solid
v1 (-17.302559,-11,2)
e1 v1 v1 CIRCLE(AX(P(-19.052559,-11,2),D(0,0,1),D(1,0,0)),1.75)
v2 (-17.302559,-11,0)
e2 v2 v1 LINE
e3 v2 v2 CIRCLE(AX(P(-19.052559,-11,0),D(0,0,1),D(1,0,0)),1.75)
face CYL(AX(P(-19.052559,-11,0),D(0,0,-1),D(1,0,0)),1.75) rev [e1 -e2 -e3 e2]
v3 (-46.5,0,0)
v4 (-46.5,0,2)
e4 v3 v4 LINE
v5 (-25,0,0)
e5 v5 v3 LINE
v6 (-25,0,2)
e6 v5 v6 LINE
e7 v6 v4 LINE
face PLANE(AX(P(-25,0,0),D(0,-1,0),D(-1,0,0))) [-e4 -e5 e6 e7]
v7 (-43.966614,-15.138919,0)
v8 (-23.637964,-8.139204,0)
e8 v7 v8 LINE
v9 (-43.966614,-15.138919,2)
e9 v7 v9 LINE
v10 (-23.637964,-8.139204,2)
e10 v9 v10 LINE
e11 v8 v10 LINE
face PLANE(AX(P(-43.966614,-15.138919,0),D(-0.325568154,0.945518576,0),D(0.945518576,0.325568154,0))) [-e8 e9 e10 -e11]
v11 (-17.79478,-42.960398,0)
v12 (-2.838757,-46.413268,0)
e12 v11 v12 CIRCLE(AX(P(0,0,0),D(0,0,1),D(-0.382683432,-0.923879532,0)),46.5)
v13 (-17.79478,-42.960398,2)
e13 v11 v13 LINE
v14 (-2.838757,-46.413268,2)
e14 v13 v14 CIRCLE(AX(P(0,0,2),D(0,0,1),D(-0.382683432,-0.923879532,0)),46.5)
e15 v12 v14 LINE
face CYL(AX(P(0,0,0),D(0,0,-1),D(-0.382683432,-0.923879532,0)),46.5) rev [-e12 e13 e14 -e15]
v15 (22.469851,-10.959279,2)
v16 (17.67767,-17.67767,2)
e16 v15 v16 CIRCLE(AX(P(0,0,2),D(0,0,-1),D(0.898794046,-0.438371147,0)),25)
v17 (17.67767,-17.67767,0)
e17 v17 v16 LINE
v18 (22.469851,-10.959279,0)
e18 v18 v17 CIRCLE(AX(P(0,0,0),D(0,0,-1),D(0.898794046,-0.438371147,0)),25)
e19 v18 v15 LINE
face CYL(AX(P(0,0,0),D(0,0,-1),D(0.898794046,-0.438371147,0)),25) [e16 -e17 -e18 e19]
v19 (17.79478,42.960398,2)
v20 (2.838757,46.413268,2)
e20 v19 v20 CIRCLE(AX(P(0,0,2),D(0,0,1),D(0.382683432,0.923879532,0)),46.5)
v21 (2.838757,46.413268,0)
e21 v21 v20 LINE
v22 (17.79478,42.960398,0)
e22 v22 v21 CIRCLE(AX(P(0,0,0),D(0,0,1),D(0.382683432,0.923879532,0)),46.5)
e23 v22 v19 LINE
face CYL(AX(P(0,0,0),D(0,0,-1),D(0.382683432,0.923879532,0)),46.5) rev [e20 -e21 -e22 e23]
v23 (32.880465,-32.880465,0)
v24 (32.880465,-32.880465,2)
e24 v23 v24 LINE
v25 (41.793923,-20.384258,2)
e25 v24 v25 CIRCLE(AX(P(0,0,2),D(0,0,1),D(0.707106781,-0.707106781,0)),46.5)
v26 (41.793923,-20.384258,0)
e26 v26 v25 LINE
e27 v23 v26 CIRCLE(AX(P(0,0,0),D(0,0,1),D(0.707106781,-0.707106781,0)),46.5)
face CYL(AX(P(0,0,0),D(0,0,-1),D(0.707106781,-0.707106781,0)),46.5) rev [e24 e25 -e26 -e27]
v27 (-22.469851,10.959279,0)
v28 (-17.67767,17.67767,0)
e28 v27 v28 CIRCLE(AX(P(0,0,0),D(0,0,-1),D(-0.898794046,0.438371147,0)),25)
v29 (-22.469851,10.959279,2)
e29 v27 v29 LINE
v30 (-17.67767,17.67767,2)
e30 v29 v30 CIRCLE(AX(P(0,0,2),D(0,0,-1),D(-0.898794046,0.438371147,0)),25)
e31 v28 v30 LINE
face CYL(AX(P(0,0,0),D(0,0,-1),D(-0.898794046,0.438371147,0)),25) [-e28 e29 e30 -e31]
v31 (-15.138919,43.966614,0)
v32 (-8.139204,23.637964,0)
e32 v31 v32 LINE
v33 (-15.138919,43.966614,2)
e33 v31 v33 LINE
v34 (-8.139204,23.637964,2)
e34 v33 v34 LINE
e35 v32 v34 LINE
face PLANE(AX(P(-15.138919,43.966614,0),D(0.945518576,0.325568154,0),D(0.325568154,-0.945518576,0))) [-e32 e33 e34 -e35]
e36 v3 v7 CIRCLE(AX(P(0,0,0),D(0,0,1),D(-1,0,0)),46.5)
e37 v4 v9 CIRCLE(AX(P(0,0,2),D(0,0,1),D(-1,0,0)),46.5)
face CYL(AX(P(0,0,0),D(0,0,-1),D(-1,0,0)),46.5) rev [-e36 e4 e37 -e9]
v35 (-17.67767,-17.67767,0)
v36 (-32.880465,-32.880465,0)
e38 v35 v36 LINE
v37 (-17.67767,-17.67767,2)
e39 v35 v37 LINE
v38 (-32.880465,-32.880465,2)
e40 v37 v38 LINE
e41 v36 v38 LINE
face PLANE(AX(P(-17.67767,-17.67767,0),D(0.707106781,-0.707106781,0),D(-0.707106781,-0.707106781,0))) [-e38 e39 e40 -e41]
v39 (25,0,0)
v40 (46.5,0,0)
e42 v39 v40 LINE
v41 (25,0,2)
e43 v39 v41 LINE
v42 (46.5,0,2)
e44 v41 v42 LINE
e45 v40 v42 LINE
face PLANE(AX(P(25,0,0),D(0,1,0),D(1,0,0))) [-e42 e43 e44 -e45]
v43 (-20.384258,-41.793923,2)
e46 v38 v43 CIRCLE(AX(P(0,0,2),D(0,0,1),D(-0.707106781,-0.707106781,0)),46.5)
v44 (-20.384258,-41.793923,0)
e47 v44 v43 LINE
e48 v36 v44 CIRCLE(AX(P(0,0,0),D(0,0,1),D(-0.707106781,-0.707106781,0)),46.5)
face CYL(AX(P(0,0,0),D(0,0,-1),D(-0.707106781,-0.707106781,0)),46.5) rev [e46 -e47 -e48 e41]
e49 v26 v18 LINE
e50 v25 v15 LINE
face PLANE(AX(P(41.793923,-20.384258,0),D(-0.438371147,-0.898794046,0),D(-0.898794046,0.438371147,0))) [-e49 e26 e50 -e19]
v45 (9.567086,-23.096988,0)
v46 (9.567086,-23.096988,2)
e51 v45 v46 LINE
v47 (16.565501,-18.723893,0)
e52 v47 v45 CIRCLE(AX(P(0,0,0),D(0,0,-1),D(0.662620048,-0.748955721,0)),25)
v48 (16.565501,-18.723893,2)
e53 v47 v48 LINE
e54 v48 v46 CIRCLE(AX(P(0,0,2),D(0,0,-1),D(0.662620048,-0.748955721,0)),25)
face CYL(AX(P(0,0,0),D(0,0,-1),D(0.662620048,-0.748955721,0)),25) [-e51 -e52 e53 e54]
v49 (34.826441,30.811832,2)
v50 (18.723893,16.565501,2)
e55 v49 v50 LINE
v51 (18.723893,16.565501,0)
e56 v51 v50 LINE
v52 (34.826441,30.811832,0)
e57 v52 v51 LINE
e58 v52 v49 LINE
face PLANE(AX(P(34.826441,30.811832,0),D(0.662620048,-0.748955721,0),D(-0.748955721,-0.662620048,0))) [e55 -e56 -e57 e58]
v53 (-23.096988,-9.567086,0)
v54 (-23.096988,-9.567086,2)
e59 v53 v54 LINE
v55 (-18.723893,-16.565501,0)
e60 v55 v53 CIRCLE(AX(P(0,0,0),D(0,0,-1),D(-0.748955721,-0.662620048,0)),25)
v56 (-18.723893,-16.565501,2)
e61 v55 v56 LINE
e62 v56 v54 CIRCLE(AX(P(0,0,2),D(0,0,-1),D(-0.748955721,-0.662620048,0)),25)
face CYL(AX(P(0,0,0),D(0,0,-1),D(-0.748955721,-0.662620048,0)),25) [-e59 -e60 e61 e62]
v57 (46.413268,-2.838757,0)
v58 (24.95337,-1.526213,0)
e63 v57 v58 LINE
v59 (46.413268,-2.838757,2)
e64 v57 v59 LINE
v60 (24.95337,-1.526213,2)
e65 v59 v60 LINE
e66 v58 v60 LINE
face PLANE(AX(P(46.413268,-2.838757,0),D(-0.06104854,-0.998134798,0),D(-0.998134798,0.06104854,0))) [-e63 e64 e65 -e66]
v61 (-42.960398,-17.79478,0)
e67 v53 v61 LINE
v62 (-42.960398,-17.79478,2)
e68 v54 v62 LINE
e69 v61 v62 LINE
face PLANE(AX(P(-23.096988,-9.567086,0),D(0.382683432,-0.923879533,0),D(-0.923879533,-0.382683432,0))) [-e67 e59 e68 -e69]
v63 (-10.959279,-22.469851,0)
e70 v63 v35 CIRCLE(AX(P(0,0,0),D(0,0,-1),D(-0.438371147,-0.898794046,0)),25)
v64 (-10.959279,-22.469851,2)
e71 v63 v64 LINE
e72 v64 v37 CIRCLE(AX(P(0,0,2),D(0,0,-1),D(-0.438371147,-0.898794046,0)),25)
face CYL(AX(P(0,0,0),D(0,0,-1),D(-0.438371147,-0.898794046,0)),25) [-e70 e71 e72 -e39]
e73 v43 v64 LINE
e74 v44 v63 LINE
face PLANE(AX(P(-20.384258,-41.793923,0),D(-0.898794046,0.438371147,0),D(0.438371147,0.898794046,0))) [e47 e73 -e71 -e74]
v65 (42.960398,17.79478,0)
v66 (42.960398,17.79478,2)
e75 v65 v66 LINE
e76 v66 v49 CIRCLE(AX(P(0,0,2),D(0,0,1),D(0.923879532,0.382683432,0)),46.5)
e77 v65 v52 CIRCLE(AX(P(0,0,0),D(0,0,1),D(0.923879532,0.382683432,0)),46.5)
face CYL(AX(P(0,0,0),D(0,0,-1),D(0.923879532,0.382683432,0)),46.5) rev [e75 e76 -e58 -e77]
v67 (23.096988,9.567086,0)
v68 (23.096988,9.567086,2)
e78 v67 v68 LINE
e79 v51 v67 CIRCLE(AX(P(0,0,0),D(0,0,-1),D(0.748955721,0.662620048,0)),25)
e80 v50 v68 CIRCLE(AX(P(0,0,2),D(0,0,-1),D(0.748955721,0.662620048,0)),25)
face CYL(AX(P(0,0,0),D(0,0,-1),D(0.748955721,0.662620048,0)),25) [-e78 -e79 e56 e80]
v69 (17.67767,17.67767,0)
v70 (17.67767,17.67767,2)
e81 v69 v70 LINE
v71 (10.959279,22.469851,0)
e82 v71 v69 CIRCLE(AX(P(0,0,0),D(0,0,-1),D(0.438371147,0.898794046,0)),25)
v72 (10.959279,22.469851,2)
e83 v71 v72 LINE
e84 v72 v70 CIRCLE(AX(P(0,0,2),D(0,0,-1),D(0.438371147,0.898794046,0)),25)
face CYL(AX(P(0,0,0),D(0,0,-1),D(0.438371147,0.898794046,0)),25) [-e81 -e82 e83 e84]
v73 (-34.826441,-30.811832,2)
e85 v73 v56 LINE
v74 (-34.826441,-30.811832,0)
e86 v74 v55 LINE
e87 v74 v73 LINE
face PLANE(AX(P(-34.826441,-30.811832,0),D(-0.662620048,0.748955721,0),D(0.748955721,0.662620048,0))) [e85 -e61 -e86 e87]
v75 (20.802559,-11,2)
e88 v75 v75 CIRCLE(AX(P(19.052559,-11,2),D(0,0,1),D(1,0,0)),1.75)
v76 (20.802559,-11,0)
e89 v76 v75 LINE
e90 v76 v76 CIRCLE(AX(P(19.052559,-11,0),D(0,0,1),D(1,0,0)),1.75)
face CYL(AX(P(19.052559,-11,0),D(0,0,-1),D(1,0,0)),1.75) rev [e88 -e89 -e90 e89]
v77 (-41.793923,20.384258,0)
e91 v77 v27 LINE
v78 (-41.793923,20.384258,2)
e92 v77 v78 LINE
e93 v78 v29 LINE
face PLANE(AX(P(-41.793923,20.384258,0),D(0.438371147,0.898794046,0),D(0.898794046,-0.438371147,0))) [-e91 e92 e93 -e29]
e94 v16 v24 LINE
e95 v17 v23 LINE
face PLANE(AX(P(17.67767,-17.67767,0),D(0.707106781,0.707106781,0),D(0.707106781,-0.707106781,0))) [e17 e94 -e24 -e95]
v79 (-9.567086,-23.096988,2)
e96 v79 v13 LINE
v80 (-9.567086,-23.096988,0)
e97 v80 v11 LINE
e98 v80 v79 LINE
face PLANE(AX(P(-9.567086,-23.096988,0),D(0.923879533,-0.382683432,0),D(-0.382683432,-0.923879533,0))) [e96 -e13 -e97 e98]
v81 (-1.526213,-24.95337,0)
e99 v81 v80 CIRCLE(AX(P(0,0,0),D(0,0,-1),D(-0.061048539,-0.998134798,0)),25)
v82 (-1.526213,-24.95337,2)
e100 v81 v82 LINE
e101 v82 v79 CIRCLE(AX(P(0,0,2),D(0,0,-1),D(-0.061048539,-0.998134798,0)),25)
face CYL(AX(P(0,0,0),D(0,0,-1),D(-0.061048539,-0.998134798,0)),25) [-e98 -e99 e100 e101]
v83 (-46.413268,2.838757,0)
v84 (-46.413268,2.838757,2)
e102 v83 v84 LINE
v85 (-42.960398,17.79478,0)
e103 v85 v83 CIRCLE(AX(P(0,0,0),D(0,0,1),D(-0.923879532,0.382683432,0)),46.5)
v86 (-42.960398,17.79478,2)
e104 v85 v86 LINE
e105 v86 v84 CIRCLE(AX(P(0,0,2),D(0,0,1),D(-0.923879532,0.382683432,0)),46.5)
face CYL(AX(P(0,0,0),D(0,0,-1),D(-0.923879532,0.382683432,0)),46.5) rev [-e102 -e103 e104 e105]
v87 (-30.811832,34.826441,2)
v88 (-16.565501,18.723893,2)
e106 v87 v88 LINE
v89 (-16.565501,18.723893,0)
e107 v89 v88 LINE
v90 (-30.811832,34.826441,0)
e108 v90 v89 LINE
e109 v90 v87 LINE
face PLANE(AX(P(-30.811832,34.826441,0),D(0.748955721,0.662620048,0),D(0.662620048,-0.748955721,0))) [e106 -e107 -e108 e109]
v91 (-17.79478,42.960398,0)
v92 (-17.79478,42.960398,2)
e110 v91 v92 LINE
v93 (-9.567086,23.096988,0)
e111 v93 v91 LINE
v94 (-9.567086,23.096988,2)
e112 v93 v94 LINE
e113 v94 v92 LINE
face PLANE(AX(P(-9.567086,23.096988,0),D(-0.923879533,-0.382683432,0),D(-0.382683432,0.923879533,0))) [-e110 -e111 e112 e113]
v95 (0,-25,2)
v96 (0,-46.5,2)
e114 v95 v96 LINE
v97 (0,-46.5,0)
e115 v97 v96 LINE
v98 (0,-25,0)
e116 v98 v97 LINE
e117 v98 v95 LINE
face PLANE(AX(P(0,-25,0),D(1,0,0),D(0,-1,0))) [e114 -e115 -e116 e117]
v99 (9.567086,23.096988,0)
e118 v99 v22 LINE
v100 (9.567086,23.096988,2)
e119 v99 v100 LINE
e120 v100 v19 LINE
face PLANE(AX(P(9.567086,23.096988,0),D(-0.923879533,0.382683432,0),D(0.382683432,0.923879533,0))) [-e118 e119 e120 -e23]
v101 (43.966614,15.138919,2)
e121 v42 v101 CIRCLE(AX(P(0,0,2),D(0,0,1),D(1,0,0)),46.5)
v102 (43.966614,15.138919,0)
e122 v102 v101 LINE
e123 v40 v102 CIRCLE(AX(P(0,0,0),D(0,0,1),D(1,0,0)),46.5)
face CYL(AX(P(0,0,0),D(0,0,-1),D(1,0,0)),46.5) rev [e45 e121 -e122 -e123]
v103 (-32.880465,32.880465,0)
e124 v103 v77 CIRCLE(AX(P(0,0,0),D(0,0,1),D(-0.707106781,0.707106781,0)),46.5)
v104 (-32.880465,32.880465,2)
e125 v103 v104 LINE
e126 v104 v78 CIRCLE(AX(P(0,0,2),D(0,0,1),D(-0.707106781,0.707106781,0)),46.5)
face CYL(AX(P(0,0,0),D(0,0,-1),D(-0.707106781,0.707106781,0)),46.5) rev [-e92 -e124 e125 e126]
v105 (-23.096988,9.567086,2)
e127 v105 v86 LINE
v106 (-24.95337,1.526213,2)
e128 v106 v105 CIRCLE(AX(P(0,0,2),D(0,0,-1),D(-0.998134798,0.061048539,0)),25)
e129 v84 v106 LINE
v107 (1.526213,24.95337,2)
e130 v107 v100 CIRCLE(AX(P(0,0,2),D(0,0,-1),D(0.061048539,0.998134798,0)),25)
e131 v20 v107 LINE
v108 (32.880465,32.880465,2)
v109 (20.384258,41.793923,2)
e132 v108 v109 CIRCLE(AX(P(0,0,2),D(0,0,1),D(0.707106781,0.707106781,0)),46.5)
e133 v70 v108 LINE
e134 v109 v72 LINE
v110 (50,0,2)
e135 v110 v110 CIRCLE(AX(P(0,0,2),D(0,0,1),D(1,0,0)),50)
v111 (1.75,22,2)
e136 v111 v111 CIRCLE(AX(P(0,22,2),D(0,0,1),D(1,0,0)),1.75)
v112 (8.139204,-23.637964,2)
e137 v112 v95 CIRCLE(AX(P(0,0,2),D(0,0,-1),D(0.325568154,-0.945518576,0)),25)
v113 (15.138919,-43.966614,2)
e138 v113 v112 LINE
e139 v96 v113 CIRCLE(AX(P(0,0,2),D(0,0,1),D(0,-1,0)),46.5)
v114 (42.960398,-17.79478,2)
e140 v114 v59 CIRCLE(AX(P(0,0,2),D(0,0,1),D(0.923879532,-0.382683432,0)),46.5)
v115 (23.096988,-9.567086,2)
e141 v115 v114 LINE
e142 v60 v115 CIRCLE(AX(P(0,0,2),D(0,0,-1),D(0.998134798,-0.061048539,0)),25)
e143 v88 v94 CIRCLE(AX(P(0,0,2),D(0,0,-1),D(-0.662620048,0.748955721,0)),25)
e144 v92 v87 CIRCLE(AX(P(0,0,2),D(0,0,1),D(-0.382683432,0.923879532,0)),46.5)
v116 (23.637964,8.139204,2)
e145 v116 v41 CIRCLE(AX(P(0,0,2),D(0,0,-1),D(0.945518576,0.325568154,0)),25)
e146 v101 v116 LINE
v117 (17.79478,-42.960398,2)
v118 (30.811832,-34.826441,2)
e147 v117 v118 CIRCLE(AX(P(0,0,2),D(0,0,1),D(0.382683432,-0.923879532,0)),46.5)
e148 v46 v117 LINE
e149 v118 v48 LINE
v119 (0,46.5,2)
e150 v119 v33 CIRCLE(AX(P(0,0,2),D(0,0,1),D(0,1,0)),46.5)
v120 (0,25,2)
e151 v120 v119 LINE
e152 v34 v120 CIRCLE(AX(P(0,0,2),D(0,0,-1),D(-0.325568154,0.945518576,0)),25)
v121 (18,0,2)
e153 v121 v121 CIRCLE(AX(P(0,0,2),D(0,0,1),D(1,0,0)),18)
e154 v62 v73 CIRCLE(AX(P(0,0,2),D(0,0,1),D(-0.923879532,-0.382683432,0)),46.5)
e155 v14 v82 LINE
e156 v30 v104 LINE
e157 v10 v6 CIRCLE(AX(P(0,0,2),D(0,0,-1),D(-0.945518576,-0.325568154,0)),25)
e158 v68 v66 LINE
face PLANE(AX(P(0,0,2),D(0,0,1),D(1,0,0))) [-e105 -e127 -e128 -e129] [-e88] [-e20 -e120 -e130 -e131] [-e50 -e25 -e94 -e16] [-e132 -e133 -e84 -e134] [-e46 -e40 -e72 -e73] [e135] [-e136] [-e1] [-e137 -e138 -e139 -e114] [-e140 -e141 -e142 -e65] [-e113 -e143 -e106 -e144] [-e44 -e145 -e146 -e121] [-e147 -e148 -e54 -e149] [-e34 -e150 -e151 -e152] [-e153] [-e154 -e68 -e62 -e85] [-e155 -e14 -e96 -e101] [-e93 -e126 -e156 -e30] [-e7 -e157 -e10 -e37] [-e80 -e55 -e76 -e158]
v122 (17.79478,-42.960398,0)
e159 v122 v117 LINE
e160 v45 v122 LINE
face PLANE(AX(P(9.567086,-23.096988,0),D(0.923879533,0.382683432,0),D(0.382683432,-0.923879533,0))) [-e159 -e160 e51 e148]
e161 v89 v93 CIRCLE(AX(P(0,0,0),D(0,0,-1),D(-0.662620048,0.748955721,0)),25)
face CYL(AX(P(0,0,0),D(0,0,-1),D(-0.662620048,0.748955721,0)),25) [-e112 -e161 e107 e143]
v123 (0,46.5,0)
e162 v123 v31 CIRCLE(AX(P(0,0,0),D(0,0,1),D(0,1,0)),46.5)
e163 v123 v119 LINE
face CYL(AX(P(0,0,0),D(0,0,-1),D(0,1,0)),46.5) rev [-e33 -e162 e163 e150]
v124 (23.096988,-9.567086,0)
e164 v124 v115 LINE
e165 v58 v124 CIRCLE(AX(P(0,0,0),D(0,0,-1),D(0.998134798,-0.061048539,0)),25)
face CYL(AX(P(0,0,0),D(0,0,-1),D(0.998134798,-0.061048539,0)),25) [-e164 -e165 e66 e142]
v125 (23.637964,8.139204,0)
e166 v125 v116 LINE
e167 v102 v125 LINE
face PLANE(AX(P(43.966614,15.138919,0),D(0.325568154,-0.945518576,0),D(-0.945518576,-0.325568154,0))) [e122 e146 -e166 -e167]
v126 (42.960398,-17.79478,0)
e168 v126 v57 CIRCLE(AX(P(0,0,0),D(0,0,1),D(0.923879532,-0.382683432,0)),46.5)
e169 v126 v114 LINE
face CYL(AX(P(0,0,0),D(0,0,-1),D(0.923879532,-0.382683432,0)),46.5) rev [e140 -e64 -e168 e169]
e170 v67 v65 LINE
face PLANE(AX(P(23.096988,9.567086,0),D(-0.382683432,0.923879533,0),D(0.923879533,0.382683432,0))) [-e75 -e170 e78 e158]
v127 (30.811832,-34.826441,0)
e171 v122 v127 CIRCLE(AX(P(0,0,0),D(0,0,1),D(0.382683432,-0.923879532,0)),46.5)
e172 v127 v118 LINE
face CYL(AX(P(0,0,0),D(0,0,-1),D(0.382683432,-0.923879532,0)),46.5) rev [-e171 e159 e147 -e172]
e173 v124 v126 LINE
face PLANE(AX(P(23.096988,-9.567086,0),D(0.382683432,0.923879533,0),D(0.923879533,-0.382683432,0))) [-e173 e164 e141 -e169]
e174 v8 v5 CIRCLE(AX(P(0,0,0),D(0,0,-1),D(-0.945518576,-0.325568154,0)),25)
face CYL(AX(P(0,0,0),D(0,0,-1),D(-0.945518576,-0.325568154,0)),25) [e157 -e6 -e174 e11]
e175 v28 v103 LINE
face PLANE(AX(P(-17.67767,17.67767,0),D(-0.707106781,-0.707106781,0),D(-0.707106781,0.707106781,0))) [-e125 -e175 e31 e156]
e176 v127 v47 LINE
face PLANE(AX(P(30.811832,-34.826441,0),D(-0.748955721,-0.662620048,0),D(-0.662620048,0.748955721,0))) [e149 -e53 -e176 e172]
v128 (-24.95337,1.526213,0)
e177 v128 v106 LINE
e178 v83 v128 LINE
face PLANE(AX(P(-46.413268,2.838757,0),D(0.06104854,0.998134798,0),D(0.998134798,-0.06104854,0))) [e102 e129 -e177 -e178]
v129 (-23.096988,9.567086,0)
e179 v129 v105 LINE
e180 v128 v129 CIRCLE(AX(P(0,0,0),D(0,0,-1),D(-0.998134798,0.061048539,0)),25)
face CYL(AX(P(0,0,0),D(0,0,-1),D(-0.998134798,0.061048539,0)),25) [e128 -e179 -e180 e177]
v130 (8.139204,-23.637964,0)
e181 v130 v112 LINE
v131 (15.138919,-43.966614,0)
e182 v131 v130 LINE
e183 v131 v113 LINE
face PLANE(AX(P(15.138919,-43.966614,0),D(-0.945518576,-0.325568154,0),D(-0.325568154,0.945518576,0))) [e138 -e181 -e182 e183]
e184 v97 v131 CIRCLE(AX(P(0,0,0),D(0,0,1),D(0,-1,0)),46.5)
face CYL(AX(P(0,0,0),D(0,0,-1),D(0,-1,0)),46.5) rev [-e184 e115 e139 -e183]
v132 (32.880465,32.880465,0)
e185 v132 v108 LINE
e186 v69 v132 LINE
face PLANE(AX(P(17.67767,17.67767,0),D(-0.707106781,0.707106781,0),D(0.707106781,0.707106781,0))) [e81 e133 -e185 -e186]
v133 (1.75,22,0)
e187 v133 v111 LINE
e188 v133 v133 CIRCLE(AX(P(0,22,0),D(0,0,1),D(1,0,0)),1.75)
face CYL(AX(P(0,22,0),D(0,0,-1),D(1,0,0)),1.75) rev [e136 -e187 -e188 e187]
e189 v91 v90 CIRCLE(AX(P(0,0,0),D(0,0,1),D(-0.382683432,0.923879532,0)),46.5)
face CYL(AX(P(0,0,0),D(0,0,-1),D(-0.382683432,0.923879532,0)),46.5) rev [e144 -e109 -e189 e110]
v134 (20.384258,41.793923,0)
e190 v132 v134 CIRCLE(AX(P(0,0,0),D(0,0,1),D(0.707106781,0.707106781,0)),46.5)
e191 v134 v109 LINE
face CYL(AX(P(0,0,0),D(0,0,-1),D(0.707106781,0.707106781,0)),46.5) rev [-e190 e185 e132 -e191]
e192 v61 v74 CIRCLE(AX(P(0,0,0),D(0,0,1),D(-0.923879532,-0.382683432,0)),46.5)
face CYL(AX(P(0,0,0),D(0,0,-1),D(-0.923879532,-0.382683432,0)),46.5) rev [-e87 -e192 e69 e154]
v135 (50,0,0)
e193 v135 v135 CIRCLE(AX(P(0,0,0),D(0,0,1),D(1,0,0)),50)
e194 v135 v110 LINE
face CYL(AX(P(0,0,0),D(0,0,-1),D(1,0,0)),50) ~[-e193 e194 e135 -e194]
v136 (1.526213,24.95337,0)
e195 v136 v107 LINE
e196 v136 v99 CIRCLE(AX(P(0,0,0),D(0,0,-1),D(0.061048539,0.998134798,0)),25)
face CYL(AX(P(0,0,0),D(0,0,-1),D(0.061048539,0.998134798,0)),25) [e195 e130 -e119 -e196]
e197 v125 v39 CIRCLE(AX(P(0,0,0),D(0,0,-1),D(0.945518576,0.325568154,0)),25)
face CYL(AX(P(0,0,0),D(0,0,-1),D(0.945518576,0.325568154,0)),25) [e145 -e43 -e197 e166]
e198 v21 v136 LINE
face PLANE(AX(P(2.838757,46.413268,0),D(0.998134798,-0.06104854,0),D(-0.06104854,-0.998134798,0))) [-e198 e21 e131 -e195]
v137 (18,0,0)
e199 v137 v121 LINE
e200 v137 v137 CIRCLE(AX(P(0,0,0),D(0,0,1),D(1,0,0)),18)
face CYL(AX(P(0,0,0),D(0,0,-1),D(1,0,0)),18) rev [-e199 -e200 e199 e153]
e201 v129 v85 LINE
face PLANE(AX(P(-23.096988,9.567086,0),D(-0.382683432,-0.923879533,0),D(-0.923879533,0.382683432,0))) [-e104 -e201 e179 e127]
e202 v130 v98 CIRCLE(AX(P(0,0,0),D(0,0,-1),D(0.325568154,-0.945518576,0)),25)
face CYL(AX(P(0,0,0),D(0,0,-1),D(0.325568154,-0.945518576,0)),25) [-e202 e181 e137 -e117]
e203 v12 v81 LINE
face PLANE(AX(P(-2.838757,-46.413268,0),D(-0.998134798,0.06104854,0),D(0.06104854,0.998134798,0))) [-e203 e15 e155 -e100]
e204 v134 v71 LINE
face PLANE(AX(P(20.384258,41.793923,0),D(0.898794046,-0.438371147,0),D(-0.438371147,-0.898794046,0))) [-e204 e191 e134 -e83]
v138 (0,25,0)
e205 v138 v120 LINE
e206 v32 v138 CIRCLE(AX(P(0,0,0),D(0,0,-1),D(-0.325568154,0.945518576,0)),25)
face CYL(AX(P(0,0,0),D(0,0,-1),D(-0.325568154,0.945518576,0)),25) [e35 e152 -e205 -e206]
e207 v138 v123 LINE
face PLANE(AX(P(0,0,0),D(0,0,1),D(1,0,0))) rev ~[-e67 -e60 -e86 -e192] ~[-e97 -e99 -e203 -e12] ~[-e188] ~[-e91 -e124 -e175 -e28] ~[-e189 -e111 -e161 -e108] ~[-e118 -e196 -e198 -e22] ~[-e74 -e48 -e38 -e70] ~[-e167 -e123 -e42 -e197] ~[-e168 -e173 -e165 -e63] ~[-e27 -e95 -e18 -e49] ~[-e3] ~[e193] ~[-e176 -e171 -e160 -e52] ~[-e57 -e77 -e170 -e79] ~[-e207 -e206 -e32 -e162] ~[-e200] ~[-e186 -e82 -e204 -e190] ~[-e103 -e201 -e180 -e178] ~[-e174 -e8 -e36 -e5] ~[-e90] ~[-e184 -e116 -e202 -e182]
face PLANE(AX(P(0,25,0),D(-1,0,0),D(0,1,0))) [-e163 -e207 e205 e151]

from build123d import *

# Parameters (mm, degrees)
SKETCH1_R           = 50
SKETCH1_R_2         = 18
SKETCH1_R_3         = 1.75
BOSS_EXTRUDE1_DEPTH = 2


with BuildPart() as part:
    # Sketch1 → Boss-Extrude1 (new body)
    with BuildSketch(Plane.XY):
        Circle(SKETCH1_R)
        Circle(SKETCH1_R_2, mode=Mode.SUBTRACT)
        with Locations((0, 22)):
            Circle(SKETCH1_R_3, mode=Mode.SUBTRACT)
        with Locations((19.052558883, -11)):
            Circle(SKETCH1_R_3, mode=Mode.SUBTRACT)
        with Locations((-19.052558883, -11)):
            Circle(SKETCH1_R_3, mode=Mode.SUBTRACT)
        with BuildLine():
            Line((25, 0), (46.5, 0))
            ThreePointArc((46.5, 0), (45.862280471, 7.674713673), (43.966613765, 15.138919182))
            Line((43.966613765, 15.138919182), (23.63796439, 8.139203861))
            ThreePointArc((23.63796439, 8.139203861), (24.657140038, 4.126190147), (25, 0))
        make_face(mode=Mode.SUBTRACT)
        with BuildLine():
            Line((23.096988313, -9.567085809), (42.960398262, -17.794779605))
            ThreePointArc((42.960398262, -17.794779605), (45.308208013, -10.460224027), (46.413268127, -2.838757088))
            Line((46.413268127, -2.838757088), (24.953369961, -1.526213488))
            ThreePointArc((24.953369961, -1.526213488), (24.35925162, -5.623776359), (23.096988313, -9.567085809))
        make_face(mode=Mode.SUBTRACT)
        with BuildLine():
            Line((17.67766953, -17.67766953), (32.880465325, -32.880465325))
            ThreePointArc((32.880465325, -32.880465325), (37.856371604, -27.002687441), (41.793923153, -20.384258326))
            Line((41.793923153, -20.384258326), (22.469851157, -10.95927867))
            ThreePointArc((22.469851157, -10.95927867), (20.352887959, -14.517573893), (17.67766953, -17.67766953))
        make_face(mode=Mode.SUBTRACT)
        with BuildLine():
            Line((9.567085809, -23.096988313), (17.794779605, -42.960398262))
            ThreePointArc((17.794779605, -42.960398262), (24.641245787, -39.434236471), (30.811832242, -34.826441017))
            Line((30.811832242, -34.826441017), (16.565501205, -18.72389302))
            ThreePointArc((16.565501205, -18.72389302), (13.247981606, -21.201202404), (9.567085809, -23.096988313))
        make_face(mode=Mode.SUBTRACT)
        with BuildLine():
            Line((0, -25), (0, -46.5))
            ThreePointArc((0, -46.5), (7.674713673, -45.862280471), (15.138919182, -43.966613765))
            Line((15.138919182, -43.966613765), (8.139203861, -23.63796439))
            ThreePointArc((8.139203861, -23.63796439), (4.126190147, -24.657140038), (0, -25))
        make_face(mode=Mode.SUBTRACT)
        with BuildLine():
            Line((-9.567085809, -23.096988313), (-17.794779605, -42.960398262))
            ThreePointArc((-17.794779605, -42.960398262), (-10.460224027, -45.308208013), (-2.838757088, -46.413268127))
            Line((-2.838757088, -46.413268127), (-1.526213488, -24.953369961))
            ThreePointArc((-1.526213488, -24.953369961), (-5.623776359, -24.35925162), (-9.567085809, -23.096988313))
        make_face(mode=Mode.SUBTRACT)
        with BuildLine():
            Line((-17.67766953, -17.67766953), (-32.880465325, -32.880465325))
            ThreePointArc((-32.880465325, -32.880465325), (-27.002687441, -37.856371604), (-20.384258326, -41.793923153))
            Line((-20.384258326, -41.793923153), (-10.95927867, -22.469851157))
            ThreePointArc((-10.95927867, -22.469851157), (-14.517573893, -20.352887959), (-17.67766953, -17.67766953))
        make_face(mode=Mode.SUBTRACT)
        with BuildLine():
            Line((-23.096988313, -9.567085809), (-42.960398262, -17.794779605))
            ThreePointArc((-42.960398262, -17.794779605), (-39.434236471, -24.641245787), (-34.826441017, -30.811832242))
            Line((-34.826441017, -30.811832242), (-18.72389302, -16.565501205))
            ThreePointArc((-18.72389302, -16.565501205), (-21.201202404, -13.247981606), (-23.096988313, -9.567085809))
        make_face(mode=Mode.SUBTRACT)
        with BuildLine():
            Line((-25, 0), (-46.5, 0))
            ThreePointArc((-46.5, 0), (-45.862280471, -7.674713673), (-43.966613765, -15.138919182))
            Line((-43.966613765, -15.138919182), (-23.63796439, -8.139203861))
            ThreePointArc((-23.63796439, -8.139203861), (-24.657140038, -4.126190147), (-25, 0))
        make_face(mode=Mode.SUBTRACT)
        with BuildLine():
            Line((-23.096988313, 9.567085809), (-42.960398262, 17.794779605))
            ThreePointArc((-42.960398262, 17.794779605), (-45.308208013, 10.460224027), (-46.413268127, 2.838757088))
            Line((-46.413268127, 2.838757088), (-24.953369961, 1.526213488))
            ThreePointArc((-24.953369961, 1.526213488), (-24.35925162, 5.623776359), (-23.096988313, 9.567085809))
        make_face(mode=Mode.SUBTRACT)
        with BuildLine():
            Line((-17.67766953, 17.67766953), (-32.880465325, 32.880465325))
            ThreePointArc((-32.880465325, 32.880465325), (-37.856371604, 27.002687441), (-41.793923153, 20.384258326))
            Line((-41.793923153, 20.384258326), (-22.469851157, 10.95927867))
            ThreePointArc((-22.469851157, 10.95927867), (-20.352887959, 14.517573893), (-17.67766953, 17.67766953))
        make_face(mode=Mode.SUBTRACT)
        with BuildLine():
            Line((-9.567085809, 23.096988313), (-17.794779605, 42.960398262))
            ThreePointArc((-17.794779605, 42.960398262), (-24.641245787, 39.434236471), (-30.811832242, 34.826441017))
            Line((-30.811832242, 34.826441017), (-16.565501205, 18.72389302))
            ThreePointArc((-16.565501205, 18.72389302), (-13.247981606, 21.201202404), (-9.567085809, 23.096988313))
        make_face(mode=Mode.SUBTRACT)
        with BuildLine():
            Line((0, 25), (0, 46.5))
            ThreePointArc((0, 46.5), (-7.674713673, 45.862280471), (-15.138919182, 43.966613765))
            Line((-15.138919182, 43.966613765), (-8.139203861, 23.63796439))
            ThreePointArc((-8.139203861, 23.63796439), (-4.126190147, 24.657140038), (0, 25))
        make_face(mode=Mode.SUBTRACT)
        with BuildLine():
            Line((9.567085809, 23.096988313), (17.794779605, 42.960398262))
            ThreePointArc((17.794779605, 42.960398262), (10.460224027, 45.308208013), (2.838757088, 46.413268127))
            Line((2.838757088, 46.413268127), (1.526213488, 24.953369961))
            ThreePointArc((1.526213488, 24.953369961), (5.623776359, 24.35925162), (9.567085809, 23.096988313))
        make_face(mode=Mode.SUBTRACT)
        with BuildLine():
            Line((17.67766953, 17.67766953), (32.880465325, 32.880465325))
            ThreePointArc((32.880465325, 32.880465325), (27.002687441, 37.856371604), (20.384258326, 41.793923153))
            Line((20.384258326, 41.793923153), (10.95927867, 22.469851157))
            ThreePointArc((10.95927867, 22.469851157), (14.517573893, 20.352887959), (17.67766953, 17.67766953))
        make_face(mode=Mode.SUBTRACT)
        with BuildLine():
            Line((23.096988313, 9.567085809), (42.960398262, 17.794779605))
            ThreePointArc((42.960398262, 17.794779605), (39.434236471, 24.641245787), (34.826441017, 30.811832242))
            Line((34.826441017, 30.811832242), (18.72389302, 16.565501205))
            ThreePointArc((18.72389302, 16.565501205), (21.201202404, 13.247981606), (23.096988313, 9.567085809))
        make_face(mode=Mode.SUBTRACT)
    extrude(amount=BOSS_EXTRUDE1_DEPTH)


solid = part.part
